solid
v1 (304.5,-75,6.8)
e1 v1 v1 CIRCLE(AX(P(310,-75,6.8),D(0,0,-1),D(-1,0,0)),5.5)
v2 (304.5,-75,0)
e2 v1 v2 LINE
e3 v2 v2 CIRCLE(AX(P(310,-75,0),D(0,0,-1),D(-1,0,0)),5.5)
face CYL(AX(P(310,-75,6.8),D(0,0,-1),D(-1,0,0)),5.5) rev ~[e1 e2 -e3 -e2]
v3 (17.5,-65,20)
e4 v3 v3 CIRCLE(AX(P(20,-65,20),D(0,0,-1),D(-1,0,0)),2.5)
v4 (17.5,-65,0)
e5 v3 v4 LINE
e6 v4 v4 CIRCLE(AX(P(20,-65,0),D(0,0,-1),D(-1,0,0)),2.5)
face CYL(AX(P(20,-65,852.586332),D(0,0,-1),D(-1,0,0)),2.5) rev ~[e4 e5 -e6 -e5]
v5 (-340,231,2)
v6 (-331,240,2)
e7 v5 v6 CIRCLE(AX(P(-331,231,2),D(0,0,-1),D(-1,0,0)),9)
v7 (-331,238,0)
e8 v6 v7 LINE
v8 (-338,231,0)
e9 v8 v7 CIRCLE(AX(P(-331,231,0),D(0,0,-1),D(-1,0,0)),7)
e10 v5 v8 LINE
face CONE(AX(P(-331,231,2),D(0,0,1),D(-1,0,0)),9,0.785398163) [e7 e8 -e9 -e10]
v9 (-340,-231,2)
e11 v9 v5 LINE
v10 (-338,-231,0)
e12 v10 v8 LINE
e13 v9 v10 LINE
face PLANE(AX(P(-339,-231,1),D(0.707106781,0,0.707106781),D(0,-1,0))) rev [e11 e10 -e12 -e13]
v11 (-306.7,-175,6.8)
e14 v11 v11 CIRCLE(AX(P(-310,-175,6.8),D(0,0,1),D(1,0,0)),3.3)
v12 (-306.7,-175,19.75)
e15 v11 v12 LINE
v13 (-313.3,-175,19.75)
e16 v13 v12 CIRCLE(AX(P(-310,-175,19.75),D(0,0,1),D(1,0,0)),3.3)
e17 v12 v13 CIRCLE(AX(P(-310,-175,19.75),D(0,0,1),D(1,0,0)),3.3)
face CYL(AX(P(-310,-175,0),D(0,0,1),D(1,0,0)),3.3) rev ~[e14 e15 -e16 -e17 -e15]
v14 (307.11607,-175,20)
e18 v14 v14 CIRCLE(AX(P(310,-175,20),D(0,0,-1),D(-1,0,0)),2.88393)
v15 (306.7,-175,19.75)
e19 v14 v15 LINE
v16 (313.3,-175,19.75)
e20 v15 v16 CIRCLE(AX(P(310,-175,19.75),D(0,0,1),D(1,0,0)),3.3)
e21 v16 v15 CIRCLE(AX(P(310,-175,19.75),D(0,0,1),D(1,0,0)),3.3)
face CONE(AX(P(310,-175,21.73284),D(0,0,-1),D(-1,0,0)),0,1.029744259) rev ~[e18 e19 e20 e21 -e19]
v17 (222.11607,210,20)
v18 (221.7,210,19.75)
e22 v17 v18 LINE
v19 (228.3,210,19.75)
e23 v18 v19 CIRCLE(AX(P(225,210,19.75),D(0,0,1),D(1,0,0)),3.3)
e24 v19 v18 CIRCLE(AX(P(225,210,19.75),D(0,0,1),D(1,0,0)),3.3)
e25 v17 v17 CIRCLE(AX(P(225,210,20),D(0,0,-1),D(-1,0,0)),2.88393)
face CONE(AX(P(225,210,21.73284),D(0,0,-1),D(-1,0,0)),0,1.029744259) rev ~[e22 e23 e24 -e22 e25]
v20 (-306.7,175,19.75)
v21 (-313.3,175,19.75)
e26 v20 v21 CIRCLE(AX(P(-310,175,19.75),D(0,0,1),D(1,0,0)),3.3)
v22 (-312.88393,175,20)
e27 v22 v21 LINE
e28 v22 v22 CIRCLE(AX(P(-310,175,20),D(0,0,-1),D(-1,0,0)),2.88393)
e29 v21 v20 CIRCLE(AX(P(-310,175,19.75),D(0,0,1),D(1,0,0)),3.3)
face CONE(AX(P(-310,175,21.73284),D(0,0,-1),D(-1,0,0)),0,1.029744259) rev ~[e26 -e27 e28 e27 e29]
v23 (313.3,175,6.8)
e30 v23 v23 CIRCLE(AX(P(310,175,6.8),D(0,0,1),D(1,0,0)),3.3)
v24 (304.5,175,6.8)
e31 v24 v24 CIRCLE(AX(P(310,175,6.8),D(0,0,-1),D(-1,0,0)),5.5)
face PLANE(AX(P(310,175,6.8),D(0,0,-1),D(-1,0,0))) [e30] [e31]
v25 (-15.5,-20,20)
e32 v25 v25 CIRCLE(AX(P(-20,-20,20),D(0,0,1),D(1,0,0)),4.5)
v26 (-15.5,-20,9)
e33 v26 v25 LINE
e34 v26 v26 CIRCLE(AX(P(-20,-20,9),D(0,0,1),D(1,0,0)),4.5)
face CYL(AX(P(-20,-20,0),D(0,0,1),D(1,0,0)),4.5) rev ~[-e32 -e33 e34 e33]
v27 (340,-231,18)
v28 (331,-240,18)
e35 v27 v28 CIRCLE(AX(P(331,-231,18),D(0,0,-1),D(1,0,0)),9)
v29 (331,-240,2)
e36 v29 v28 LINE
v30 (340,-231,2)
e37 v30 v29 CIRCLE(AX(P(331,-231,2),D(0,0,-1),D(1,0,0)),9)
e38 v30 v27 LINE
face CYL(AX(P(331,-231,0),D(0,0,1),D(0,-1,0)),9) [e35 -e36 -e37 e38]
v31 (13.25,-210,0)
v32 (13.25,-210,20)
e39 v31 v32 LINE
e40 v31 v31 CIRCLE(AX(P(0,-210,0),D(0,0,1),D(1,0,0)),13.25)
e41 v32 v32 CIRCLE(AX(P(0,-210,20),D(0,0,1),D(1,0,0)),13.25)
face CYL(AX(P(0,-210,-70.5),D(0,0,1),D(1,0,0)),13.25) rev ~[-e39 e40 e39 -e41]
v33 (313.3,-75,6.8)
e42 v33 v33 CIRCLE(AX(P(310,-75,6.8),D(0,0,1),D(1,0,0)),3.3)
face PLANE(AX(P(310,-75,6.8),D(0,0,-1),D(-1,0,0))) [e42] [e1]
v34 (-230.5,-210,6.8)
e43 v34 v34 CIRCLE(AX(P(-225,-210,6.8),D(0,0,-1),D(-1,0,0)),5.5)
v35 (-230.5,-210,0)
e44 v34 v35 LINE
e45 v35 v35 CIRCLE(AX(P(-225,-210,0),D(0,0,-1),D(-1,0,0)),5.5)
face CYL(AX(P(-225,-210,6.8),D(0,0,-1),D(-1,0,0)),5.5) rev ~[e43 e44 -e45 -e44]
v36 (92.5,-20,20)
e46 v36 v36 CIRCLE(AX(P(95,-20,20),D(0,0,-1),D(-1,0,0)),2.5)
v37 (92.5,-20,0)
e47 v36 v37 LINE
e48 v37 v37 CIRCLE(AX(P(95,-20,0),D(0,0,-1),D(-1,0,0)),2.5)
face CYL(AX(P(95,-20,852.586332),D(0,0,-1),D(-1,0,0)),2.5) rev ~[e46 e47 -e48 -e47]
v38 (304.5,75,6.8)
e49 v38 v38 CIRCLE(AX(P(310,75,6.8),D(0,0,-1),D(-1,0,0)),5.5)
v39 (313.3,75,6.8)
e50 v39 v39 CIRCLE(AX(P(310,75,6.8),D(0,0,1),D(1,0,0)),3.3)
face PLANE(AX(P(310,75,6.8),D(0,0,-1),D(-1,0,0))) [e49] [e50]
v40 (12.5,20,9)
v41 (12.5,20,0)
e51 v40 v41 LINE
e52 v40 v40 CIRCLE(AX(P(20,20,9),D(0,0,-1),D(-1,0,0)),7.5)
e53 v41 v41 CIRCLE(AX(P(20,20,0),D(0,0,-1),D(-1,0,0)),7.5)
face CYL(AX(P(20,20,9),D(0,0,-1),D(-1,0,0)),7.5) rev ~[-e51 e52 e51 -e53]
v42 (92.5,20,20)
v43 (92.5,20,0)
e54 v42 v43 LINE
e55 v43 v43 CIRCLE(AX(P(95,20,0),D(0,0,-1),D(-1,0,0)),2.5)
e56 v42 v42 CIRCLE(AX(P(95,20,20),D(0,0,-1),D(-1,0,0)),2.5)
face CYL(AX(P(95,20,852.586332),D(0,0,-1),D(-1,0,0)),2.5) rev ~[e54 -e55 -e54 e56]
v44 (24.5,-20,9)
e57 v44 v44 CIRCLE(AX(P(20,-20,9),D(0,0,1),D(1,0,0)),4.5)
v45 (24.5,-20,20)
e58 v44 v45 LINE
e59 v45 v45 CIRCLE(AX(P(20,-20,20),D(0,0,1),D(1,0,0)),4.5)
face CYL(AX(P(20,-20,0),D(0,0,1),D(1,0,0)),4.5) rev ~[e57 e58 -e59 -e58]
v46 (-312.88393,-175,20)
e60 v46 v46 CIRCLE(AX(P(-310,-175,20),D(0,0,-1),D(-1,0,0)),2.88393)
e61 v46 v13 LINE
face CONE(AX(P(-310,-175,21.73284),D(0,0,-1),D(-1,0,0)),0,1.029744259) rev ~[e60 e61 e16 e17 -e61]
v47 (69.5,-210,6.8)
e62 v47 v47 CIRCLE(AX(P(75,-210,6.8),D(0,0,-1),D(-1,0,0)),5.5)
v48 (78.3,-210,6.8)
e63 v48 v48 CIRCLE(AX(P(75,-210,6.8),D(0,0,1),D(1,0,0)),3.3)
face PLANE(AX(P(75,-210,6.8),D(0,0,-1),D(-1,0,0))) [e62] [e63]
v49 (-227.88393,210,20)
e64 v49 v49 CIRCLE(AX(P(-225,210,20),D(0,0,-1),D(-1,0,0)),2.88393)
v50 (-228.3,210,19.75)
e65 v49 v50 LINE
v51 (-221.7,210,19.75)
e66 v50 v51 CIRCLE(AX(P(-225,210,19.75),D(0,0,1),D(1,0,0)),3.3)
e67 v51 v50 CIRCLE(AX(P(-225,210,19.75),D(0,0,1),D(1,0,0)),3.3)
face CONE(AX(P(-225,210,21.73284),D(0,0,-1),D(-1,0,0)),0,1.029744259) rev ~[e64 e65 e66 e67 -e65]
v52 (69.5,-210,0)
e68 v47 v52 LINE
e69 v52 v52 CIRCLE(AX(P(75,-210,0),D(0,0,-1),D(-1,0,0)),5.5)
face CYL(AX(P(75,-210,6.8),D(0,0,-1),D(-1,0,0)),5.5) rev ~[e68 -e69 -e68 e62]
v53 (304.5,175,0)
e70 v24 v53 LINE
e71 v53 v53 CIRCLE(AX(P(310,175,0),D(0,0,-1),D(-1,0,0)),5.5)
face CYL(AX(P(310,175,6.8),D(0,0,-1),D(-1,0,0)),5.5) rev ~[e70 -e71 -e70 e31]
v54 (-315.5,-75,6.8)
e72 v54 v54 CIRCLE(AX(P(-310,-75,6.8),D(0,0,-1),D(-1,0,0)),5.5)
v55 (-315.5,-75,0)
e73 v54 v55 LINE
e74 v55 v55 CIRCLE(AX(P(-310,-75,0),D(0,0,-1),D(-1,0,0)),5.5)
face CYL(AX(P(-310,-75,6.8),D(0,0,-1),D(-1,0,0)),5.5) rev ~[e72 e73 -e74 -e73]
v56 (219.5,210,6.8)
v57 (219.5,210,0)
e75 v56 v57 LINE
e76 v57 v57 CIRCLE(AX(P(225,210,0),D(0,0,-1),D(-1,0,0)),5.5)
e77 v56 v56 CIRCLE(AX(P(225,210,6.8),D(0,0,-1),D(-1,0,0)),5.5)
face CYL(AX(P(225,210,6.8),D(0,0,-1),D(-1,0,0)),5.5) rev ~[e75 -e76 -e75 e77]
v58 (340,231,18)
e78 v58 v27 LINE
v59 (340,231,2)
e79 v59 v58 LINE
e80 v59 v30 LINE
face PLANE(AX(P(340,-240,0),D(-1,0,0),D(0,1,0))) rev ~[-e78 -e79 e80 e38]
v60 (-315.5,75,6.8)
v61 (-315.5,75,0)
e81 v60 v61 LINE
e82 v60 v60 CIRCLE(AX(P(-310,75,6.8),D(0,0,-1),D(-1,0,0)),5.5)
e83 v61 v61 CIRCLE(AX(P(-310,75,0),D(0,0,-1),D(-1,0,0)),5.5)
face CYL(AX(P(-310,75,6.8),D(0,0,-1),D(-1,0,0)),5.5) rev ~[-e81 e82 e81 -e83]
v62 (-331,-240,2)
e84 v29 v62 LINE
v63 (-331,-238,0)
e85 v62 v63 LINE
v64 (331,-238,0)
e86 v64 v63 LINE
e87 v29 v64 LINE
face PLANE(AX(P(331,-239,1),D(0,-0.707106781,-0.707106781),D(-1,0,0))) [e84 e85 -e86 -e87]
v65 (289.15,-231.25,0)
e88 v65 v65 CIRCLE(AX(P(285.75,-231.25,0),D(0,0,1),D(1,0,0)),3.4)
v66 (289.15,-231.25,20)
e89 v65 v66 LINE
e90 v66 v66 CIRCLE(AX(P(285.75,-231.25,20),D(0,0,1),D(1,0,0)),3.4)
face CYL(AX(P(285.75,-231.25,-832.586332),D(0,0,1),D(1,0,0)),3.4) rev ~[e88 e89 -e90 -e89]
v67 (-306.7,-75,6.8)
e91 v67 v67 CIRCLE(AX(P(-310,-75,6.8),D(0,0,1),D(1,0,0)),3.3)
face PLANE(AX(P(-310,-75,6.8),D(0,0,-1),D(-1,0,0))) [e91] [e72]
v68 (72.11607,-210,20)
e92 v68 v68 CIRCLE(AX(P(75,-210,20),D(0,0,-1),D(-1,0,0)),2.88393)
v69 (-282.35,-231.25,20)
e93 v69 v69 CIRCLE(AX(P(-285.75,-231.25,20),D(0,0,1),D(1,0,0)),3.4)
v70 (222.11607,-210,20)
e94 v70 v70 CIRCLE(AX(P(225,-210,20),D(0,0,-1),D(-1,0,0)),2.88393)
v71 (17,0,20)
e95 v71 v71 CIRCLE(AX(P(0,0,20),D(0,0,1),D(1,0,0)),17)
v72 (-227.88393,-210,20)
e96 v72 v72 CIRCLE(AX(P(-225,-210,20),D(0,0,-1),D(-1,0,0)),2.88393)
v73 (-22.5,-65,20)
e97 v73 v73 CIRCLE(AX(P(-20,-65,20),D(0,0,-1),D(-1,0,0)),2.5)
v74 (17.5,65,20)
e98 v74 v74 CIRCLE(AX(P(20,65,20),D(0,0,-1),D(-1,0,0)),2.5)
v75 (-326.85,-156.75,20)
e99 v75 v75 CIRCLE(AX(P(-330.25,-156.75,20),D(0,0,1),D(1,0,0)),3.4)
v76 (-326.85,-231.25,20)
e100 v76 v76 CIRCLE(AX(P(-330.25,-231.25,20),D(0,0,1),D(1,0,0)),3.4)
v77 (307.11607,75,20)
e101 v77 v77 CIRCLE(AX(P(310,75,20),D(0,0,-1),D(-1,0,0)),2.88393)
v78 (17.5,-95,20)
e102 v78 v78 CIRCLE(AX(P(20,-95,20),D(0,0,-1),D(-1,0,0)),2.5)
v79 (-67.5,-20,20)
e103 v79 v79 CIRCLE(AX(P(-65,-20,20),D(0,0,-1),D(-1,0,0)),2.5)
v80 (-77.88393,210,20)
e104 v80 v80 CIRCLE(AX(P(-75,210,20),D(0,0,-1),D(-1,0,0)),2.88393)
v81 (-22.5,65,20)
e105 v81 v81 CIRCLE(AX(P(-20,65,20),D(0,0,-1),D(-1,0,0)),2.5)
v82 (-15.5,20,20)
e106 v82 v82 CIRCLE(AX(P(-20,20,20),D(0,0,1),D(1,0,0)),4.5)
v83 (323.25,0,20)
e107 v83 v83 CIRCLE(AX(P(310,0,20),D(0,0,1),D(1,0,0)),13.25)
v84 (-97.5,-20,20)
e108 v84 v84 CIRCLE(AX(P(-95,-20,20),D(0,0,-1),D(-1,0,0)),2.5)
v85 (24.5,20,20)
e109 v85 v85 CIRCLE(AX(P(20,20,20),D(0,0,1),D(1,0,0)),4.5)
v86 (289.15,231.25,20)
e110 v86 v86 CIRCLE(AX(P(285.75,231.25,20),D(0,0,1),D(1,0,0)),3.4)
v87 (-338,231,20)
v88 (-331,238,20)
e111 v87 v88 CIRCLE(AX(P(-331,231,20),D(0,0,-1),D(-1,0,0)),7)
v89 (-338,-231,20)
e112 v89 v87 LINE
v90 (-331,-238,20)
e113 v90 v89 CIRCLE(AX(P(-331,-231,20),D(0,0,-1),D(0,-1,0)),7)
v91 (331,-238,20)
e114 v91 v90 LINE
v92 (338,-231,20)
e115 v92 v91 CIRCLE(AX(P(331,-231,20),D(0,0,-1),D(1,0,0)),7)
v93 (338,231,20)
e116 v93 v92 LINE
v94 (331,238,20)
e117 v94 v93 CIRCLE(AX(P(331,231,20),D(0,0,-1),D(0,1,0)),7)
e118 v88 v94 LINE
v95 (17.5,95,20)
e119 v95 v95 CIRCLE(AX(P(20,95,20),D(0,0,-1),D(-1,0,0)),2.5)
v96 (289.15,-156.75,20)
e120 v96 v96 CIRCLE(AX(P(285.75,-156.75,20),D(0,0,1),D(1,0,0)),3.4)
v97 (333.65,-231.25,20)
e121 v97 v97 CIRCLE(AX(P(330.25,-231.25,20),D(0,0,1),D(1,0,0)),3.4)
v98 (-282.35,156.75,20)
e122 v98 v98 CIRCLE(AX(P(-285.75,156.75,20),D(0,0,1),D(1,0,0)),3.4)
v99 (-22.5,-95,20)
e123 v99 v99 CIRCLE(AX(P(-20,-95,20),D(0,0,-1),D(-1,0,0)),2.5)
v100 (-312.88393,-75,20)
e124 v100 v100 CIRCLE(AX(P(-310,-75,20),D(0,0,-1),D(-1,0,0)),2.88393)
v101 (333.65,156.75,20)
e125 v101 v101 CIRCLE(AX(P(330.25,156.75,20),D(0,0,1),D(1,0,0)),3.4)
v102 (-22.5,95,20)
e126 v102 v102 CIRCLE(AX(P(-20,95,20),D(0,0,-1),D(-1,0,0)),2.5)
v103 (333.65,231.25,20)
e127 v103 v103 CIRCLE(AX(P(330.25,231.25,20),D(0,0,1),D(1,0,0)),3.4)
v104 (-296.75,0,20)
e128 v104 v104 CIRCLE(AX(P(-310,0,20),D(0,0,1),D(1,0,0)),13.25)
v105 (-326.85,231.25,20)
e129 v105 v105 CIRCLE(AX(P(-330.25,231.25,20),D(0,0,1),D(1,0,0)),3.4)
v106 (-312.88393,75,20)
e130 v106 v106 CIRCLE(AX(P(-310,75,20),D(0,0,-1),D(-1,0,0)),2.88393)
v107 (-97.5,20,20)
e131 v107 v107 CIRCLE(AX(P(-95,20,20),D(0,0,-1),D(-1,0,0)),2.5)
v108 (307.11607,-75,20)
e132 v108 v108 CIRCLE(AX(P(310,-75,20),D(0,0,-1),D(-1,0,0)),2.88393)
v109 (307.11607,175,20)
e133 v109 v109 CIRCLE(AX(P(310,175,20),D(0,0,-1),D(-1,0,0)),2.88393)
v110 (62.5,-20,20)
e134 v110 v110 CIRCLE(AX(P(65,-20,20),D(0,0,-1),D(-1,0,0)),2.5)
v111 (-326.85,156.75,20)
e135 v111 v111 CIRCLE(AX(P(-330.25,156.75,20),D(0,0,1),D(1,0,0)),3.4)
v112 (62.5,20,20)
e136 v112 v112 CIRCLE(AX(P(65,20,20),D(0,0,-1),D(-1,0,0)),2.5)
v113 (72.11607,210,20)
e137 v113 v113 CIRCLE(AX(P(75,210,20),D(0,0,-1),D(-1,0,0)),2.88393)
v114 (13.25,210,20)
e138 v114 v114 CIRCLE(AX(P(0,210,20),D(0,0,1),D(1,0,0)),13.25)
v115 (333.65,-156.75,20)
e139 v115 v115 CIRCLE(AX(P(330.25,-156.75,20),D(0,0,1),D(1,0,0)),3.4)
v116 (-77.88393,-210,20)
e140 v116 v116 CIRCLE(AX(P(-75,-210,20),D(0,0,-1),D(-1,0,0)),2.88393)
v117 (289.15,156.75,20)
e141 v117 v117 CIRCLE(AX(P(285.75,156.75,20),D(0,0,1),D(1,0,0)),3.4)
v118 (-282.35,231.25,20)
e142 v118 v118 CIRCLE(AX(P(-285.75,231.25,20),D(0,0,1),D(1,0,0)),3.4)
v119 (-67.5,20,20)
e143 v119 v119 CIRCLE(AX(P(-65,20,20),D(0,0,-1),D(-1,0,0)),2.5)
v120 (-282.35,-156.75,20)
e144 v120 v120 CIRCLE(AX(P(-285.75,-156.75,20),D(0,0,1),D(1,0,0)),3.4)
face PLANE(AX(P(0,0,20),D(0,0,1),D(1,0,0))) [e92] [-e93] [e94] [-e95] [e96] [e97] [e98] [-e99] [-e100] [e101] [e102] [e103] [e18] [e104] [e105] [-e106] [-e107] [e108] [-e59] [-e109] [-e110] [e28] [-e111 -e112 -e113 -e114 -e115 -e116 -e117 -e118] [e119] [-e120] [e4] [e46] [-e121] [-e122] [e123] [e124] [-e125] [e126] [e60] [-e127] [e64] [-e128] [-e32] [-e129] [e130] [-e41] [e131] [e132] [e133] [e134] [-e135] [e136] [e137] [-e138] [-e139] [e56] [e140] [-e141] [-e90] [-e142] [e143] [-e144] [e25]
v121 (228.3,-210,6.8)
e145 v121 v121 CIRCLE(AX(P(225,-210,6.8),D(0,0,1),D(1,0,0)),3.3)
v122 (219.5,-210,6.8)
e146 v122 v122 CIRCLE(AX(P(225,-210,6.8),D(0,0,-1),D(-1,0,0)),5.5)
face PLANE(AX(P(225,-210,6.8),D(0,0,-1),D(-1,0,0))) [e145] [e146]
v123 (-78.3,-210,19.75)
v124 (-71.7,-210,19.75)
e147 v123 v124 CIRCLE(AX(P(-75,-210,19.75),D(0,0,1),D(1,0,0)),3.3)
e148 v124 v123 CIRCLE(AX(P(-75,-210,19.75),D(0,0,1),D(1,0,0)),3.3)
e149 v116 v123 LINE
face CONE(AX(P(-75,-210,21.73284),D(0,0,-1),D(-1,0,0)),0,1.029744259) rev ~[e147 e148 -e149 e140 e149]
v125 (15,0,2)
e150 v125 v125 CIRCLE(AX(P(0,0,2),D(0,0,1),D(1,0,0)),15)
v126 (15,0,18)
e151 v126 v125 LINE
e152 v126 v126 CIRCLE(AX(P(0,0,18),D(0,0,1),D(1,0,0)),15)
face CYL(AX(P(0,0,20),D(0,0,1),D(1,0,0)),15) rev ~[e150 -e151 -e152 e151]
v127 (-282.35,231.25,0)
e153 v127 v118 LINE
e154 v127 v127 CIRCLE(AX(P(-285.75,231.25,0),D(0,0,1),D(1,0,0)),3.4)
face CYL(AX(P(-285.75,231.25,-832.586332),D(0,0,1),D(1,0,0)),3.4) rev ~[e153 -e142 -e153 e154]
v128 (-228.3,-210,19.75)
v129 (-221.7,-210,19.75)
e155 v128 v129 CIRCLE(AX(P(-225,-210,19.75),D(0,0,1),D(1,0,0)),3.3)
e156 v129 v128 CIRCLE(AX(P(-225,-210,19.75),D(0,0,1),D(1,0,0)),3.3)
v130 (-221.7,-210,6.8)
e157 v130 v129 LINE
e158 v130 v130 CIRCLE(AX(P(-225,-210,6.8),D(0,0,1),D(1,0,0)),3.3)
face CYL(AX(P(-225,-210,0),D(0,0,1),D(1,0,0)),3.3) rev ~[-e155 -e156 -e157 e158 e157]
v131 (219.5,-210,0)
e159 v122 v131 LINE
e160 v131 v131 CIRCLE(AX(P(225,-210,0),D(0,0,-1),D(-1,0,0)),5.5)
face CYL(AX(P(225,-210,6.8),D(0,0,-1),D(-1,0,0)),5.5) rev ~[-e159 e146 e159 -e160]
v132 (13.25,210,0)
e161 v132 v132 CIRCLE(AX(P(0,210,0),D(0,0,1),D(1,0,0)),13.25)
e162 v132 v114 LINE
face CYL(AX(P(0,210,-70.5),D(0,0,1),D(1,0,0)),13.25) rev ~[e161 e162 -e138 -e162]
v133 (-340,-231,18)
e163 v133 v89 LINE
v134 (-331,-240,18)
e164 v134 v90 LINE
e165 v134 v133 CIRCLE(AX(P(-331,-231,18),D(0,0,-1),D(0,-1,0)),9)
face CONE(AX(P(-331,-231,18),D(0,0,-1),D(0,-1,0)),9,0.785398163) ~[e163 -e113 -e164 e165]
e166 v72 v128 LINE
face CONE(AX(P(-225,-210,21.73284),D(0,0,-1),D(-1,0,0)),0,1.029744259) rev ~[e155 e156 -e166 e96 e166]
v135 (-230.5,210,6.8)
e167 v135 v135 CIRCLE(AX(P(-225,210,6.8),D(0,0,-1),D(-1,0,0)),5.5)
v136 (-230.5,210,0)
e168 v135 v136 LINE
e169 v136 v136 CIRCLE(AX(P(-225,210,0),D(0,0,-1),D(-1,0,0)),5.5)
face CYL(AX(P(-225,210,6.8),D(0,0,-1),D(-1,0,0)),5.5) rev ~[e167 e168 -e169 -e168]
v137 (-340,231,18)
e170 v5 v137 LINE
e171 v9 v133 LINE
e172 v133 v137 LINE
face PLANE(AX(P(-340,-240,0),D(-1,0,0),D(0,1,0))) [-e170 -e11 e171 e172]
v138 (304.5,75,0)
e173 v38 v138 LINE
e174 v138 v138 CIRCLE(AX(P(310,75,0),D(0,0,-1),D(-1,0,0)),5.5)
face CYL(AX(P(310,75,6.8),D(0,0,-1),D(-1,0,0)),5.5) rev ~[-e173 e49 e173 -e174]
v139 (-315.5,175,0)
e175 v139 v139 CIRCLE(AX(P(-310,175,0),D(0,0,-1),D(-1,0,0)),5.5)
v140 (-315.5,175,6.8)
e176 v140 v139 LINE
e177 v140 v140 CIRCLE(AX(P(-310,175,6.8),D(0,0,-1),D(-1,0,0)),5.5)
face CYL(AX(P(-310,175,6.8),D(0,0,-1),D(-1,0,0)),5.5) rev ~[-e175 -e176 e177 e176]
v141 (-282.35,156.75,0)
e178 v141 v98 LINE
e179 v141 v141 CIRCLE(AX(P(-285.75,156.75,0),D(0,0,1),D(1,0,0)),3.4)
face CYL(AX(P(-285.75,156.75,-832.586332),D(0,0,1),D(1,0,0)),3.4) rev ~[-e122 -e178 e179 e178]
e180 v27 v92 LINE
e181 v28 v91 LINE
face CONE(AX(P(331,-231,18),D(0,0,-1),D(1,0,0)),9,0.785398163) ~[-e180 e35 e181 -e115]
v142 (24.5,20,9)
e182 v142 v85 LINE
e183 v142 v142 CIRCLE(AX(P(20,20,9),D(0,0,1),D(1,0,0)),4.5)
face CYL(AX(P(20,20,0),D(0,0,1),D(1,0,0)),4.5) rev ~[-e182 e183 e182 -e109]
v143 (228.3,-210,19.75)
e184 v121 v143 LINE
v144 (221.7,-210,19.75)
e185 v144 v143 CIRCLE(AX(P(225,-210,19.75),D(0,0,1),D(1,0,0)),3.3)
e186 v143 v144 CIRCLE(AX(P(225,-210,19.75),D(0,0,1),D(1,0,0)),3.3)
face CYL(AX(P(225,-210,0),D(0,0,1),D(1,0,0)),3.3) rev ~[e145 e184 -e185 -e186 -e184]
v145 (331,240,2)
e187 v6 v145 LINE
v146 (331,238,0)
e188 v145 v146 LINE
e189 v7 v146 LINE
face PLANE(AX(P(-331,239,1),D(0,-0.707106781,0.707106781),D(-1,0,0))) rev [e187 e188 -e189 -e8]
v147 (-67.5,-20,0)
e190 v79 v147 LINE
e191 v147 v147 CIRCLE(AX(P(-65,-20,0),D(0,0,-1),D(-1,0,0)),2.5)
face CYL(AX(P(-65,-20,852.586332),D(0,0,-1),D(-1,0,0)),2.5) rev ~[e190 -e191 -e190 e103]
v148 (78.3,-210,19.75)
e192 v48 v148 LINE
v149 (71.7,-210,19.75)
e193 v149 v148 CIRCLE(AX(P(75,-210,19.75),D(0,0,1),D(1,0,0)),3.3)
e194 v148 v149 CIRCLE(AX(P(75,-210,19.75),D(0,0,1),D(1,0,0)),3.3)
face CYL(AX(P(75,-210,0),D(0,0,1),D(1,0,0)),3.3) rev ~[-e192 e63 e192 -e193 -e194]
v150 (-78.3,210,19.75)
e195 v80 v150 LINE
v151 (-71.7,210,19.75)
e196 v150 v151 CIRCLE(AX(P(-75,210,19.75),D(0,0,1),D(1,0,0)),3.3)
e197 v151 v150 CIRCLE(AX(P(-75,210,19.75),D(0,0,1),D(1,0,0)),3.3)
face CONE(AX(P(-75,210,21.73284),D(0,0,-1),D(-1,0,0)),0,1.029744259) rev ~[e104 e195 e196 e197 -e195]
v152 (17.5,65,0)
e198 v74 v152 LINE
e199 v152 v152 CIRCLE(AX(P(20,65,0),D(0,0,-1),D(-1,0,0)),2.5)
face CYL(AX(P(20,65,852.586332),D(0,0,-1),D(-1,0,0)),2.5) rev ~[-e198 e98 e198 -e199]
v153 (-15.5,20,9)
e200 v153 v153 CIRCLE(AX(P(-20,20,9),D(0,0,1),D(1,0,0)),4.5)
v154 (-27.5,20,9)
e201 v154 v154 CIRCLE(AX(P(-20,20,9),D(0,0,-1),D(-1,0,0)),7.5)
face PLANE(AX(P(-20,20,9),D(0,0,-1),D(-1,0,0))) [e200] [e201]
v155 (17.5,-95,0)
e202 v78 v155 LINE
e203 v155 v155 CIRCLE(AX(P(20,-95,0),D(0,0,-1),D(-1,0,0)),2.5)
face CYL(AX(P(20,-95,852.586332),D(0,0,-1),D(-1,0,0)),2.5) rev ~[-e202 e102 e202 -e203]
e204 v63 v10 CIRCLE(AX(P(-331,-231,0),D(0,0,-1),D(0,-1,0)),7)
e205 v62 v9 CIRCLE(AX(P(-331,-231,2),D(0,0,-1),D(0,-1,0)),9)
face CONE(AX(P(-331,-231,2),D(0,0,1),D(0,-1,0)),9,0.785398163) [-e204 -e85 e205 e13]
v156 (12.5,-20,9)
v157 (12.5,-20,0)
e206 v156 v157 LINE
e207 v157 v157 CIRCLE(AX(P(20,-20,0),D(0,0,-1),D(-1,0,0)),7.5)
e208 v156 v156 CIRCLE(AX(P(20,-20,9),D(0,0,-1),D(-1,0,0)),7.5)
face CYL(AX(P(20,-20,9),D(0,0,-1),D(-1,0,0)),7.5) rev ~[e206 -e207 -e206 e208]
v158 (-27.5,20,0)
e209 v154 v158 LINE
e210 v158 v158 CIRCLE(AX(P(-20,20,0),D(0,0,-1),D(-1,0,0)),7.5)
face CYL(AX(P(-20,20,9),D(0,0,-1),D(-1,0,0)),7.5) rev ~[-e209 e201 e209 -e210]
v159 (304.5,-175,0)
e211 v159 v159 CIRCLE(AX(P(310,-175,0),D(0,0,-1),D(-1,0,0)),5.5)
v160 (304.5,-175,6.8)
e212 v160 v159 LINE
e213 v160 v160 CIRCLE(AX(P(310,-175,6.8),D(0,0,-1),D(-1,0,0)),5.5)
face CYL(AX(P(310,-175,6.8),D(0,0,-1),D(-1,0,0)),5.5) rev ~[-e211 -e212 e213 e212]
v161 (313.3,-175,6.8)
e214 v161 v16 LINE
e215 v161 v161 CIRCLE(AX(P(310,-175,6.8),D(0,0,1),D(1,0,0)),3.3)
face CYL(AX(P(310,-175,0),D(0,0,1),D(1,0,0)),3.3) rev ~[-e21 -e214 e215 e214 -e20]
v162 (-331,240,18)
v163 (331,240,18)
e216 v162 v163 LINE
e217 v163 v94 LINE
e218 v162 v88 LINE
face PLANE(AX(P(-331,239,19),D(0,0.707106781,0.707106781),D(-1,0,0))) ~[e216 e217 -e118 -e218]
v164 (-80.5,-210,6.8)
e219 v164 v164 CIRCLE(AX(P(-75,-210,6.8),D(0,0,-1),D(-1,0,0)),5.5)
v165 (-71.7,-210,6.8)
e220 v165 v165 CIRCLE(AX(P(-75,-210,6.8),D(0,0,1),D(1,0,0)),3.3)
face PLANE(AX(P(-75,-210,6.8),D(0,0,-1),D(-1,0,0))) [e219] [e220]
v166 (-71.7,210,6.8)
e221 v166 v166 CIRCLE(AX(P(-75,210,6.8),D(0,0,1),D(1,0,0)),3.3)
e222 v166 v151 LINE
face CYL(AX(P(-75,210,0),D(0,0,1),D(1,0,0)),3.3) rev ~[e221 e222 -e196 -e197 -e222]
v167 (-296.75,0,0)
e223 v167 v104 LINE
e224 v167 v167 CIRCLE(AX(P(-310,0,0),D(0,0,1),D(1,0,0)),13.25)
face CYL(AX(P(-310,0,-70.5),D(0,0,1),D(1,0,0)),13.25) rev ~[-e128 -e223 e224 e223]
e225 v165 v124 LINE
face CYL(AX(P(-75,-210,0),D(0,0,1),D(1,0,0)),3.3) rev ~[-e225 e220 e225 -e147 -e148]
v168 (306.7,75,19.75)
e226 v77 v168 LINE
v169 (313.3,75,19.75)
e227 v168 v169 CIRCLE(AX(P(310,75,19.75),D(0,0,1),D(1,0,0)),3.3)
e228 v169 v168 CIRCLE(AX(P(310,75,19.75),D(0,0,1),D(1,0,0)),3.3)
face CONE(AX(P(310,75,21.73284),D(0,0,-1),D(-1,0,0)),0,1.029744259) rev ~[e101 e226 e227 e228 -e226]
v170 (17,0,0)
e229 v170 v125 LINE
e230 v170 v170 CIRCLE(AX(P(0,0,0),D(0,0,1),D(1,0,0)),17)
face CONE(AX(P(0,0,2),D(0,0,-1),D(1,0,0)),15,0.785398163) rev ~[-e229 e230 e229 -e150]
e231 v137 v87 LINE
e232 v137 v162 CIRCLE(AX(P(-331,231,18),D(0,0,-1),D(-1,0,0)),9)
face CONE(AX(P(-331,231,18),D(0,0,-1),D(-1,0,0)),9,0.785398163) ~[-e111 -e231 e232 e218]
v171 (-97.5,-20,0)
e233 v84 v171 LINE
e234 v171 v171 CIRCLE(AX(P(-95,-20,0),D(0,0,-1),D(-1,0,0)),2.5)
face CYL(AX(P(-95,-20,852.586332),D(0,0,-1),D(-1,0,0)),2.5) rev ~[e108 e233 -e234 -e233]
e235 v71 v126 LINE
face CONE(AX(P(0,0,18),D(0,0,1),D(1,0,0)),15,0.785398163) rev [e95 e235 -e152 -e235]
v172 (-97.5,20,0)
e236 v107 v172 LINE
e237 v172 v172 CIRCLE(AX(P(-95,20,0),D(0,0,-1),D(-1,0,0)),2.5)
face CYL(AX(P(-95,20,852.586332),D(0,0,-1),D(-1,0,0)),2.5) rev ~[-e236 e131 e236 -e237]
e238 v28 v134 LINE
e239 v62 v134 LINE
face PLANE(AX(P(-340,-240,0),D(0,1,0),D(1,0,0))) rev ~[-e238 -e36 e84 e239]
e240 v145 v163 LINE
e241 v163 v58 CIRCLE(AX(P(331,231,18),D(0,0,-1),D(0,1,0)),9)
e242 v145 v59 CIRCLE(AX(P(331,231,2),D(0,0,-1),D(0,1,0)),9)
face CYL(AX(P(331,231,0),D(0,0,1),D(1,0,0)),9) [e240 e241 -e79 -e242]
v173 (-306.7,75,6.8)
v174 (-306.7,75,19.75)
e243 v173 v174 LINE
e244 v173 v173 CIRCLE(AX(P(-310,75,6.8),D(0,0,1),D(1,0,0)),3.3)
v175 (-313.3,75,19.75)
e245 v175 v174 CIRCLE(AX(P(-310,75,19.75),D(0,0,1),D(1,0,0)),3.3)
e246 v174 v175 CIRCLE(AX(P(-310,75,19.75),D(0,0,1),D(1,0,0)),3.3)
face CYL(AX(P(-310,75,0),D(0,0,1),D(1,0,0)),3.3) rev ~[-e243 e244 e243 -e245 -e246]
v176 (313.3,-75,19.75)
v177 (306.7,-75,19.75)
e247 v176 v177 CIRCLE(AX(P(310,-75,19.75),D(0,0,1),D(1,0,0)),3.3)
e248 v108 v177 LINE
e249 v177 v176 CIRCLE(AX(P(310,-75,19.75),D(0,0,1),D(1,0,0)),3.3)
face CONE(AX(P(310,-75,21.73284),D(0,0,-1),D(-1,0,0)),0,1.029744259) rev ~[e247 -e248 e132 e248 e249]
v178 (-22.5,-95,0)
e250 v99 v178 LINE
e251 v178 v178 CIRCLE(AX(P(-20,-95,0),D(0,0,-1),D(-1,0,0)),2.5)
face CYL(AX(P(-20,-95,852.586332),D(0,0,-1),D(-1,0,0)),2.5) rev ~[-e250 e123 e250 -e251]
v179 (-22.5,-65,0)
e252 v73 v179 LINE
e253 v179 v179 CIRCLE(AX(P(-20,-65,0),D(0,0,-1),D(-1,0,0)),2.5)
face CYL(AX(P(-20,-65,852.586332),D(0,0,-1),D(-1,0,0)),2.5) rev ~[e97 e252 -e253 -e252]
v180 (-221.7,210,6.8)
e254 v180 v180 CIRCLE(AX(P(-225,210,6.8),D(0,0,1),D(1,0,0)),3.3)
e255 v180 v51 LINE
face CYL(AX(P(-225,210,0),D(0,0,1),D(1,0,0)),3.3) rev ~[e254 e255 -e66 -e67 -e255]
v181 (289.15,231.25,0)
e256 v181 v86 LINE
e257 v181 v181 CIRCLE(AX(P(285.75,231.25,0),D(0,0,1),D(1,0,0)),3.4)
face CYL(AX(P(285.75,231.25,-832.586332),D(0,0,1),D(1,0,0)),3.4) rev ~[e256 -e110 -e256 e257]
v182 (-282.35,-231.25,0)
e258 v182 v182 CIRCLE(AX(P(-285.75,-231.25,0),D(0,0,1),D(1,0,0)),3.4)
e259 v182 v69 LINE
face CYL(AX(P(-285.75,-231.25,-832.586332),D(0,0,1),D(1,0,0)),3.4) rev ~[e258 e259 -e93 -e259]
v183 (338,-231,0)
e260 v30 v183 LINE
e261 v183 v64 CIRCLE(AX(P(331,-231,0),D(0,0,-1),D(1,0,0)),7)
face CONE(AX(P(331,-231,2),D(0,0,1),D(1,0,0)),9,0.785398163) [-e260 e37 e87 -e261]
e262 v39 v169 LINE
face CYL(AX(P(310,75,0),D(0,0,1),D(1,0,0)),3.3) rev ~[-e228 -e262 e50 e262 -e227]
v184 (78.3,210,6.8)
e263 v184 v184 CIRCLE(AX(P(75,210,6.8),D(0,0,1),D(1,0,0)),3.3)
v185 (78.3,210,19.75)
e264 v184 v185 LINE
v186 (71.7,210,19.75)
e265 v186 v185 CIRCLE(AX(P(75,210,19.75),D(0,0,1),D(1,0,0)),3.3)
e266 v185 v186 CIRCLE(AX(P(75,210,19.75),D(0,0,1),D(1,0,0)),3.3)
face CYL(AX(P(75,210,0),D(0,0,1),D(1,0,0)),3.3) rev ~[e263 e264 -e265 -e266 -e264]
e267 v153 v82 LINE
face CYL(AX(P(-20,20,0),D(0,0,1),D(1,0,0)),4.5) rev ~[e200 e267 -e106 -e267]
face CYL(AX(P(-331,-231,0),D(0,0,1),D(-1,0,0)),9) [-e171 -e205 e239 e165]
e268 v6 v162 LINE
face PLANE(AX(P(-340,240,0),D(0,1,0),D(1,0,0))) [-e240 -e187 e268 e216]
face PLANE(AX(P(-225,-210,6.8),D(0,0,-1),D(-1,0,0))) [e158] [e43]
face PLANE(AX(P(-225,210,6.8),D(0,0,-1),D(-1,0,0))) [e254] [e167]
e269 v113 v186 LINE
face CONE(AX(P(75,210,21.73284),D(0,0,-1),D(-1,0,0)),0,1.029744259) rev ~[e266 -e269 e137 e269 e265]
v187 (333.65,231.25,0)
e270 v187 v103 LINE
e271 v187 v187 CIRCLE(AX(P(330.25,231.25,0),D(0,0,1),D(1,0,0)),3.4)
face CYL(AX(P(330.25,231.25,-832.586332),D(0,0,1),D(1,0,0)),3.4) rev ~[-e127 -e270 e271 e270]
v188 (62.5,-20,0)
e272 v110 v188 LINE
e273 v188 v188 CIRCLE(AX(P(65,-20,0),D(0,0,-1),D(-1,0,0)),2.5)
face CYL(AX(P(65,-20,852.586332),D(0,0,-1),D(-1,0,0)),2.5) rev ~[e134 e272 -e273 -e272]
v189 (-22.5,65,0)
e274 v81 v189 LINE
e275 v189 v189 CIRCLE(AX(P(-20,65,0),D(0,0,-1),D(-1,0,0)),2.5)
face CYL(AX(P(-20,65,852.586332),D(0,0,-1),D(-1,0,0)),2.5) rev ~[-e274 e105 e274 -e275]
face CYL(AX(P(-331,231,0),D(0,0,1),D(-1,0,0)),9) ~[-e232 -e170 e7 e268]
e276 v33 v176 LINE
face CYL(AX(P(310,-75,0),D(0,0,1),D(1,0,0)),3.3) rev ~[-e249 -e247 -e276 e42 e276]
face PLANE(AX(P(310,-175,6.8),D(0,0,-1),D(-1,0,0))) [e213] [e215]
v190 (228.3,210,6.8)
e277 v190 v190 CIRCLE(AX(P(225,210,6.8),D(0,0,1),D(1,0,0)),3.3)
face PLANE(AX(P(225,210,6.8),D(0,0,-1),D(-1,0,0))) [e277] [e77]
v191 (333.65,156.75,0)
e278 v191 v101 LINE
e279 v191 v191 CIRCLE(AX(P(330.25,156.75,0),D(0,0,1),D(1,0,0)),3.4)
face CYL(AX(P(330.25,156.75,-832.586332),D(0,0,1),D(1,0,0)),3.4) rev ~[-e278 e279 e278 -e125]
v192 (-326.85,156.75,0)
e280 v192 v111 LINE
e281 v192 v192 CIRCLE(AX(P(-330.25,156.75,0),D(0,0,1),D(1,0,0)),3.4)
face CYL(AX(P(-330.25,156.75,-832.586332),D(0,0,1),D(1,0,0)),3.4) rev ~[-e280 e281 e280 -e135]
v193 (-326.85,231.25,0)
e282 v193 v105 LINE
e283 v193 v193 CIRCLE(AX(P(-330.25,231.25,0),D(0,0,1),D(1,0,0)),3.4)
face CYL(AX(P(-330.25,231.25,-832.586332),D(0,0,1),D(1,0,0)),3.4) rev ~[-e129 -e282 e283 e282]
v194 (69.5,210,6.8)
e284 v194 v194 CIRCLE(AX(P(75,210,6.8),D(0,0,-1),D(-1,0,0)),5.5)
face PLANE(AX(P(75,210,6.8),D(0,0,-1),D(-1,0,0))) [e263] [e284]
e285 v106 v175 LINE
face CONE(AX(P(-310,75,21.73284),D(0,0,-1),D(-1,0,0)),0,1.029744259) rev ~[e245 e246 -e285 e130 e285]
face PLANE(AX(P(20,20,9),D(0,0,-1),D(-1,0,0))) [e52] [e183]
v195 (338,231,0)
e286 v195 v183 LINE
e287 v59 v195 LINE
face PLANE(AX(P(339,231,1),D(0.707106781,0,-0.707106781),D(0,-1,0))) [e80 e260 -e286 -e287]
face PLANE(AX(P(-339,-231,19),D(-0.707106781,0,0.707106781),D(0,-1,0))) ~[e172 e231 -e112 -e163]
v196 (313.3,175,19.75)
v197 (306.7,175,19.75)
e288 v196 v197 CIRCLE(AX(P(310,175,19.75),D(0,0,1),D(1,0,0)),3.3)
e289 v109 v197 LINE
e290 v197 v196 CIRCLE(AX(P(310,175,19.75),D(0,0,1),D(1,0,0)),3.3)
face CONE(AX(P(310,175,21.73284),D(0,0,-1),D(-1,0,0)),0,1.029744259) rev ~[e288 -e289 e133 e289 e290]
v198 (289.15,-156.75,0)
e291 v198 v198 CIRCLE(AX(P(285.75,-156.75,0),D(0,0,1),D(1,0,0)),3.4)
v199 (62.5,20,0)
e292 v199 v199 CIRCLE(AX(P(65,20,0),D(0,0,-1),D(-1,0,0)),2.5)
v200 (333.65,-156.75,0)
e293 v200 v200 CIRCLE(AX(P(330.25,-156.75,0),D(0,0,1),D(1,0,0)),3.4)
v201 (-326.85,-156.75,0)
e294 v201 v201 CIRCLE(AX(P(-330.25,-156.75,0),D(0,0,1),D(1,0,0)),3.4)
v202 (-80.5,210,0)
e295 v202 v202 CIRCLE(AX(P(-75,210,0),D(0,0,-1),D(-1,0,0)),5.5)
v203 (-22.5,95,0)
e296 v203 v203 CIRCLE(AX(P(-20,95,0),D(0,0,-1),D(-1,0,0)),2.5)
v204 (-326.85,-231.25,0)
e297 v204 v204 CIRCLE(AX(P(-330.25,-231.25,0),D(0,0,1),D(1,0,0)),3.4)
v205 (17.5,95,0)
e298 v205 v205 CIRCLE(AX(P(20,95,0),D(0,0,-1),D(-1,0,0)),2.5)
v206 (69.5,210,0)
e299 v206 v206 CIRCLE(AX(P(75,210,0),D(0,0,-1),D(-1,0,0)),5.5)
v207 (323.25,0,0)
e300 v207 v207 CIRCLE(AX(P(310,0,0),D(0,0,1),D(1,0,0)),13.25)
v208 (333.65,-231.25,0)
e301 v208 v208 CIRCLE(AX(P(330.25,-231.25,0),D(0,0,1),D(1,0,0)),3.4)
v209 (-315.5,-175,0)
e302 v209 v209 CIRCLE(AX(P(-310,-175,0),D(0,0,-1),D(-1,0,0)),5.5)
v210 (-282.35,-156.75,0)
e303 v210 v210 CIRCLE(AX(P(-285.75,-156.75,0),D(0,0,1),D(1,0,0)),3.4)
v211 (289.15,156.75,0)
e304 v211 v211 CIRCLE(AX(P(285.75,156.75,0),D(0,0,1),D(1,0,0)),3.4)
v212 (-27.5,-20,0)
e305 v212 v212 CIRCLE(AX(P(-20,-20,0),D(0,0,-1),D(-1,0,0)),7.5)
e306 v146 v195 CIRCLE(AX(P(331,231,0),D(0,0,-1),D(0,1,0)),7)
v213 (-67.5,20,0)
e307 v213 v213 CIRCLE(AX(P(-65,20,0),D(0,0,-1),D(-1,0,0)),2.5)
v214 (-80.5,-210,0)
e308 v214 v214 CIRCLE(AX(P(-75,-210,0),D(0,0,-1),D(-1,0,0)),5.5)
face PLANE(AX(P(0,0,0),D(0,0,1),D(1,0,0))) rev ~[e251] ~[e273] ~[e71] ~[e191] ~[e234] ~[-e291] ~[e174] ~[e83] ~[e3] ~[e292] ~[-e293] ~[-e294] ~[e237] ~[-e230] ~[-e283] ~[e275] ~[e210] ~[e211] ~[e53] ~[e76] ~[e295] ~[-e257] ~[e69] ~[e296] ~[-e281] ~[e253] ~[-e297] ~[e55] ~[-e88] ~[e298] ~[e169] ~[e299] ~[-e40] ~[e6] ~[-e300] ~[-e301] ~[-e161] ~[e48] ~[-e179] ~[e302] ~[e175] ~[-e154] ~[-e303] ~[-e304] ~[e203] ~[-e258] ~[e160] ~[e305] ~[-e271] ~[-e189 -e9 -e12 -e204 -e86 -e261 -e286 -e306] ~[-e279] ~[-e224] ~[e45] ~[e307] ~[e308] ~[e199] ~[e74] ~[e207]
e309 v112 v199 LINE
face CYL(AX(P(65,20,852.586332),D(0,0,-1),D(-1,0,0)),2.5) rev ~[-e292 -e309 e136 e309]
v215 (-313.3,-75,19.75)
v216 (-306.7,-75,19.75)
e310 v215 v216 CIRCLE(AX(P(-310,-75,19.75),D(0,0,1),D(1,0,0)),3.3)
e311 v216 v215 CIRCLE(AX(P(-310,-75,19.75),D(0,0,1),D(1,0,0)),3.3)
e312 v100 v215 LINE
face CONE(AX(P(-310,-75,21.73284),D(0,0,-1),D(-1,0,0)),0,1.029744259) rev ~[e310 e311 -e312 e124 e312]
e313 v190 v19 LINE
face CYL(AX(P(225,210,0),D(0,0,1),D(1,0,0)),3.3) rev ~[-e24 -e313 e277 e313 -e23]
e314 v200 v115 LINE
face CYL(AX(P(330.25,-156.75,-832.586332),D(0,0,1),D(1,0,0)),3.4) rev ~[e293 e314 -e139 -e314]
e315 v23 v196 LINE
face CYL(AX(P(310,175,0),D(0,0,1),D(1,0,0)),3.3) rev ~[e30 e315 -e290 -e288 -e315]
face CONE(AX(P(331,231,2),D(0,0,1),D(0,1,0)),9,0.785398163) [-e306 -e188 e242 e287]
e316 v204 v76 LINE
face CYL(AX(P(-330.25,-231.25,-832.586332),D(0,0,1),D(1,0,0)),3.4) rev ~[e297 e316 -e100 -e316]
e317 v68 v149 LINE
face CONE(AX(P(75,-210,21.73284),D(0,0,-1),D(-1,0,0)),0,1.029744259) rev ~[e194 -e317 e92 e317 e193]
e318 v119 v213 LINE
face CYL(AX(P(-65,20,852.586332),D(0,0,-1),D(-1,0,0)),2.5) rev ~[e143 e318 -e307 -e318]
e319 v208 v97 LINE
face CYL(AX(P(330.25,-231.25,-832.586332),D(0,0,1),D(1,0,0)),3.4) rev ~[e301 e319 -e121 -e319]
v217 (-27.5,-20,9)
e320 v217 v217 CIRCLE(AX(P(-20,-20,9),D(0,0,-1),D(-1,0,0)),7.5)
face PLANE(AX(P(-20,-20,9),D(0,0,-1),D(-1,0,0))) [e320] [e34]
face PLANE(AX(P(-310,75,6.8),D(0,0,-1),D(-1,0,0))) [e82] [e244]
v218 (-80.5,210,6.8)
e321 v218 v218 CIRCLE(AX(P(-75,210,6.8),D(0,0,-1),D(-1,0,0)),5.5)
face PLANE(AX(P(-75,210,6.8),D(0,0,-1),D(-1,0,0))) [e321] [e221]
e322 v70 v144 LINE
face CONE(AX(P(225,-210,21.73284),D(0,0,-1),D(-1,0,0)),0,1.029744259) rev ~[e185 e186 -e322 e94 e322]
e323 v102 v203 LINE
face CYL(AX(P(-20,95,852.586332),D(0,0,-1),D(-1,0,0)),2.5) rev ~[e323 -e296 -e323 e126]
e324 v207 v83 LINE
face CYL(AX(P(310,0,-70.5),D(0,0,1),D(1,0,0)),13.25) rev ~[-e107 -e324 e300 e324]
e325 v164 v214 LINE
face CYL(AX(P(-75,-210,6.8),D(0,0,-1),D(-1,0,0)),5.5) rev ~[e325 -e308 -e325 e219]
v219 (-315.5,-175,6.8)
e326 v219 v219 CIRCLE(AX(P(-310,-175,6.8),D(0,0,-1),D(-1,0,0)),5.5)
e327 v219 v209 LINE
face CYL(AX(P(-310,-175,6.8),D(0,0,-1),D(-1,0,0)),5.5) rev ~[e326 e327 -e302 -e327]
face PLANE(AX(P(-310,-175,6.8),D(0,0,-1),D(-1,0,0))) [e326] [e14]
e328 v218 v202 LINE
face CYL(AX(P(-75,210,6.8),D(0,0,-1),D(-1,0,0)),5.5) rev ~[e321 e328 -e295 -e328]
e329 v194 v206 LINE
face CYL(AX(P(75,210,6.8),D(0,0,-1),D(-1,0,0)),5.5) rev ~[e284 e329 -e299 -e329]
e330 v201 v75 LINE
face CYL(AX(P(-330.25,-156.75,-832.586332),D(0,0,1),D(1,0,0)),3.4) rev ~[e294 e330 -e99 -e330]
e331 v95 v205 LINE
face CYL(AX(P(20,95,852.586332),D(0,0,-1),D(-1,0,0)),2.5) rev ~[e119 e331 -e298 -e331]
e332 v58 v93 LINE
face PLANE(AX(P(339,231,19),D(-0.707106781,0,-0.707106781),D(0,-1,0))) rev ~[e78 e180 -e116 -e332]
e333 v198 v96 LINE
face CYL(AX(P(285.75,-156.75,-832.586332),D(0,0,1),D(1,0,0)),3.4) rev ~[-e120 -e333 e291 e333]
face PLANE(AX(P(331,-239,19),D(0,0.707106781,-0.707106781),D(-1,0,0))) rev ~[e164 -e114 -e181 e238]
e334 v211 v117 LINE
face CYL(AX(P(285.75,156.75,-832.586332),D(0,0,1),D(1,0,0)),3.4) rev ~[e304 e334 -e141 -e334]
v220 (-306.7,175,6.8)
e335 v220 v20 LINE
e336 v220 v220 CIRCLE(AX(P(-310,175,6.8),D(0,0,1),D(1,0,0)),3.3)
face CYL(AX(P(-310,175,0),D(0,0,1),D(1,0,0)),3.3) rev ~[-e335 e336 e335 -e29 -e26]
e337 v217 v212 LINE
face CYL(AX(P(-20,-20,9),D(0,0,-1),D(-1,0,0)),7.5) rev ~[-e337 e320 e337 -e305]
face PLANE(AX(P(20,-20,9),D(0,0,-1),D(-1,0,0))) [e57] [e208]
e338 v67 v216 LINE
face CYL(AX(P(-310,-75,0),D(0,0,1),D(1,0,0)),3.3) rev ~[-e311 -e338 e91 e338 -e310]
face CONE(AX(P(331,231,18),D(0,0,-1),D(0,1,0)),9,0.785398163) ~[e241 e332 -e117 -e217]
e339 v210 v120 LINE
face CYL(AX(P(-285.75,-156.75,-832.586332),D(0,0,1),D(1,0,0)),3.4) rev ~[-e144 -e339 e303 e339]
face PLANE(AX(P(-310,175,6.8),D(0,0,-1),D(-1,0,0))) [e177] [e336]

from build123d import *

# Parameters (mm, degrees)
SKETCH_1_W                = 680
SKETCH_1_H                = 480
EXTRUDE_1_DEPTH           = 20
FILLET_1_R                = 9
CHAMFER_3_SIZE            = 2
HOLE_WIZARD_M30_1_D       = 26.5
HOLE_WIZARD_M30_1_DEPTH   = 70.5
HOLE_WIZARD_M30_1_TIP     = 7.961403202
HOLE_WIZARD_1_D           = 9
HOLE_WIZARD_1_DEPTH       = 70.5
HOLE_WIZARD_1_CBORE_D     = 15
HOLE_WIZARD_1_CBORE_DEPTH = 9
HOLE_WIZARD_1_TIP         = 2.703872786
SKETCH_8_R                = 15
CUT_EXTRUDE_2_DEPTH       = 417.65333312
CHAMFER_5_SIZE            = 2
HOLE_WIZARD_M6_1_D        = 5
HOLE_WIZARD_M8_1_D        = 6.8
HOLE_WIZARD_2_D           = 6.6
HOLE_WIZARD_2_DEPTH       = 19.75
HOLE_WIZARD_2_CBORE_D     = 11
HOLE_WIZARD_2_CBORE_DEPTH = 6.8
HOLE_WIZARD_2_TIP         = 1.982840043


with BuildPart() as part:
    # 草图1 → 凸台-拉伸1 (new body)
    with BuildSketch(Plane.XY):
        Rectangle(SKETCH_1_W, SKETCH_1_H)
    extrude(amount=EXTRUDE_1_DEPTH)

    # 圆角1
    fillet_1_edges = [part.edges().sort_by_distance(p)[0] for p in [
        (340, -240, 10),
        (-340, -240, 10),
        (-340, 240, 10),
        (340, 240, 10),
    ]]
    fillet(fillet_1_edges, radius=FILLET_1_R)

    # 倒角3
    chamfer_3_edges = [part.edges().sort_by_distance(p)[0] for p in [
        (-340, 0, 0),
        (-340, 0, 20),
        (340, 0, 0),
        (0, -240, 0),
        (0, 240, 0),
        (-337.363961031, -237.363961031, 0),
        (337.363961031, -237.363961031, 0),
        (337.363961031, 237.363961031, 0),
        (-337.363961031, 237.363961031, 0),
        (0, 240, 20),
        (340, 0, 20),
        (0, -240, 20),
        (-337.363961031, -237.363961031, 20),
        (337.363961031, -237.363961031, 20),
        (337.363961031, 237.363961031, 20),
        (-337.363961031, 237.363961031, 20),
    ]]
    chamfer(chamfer_3_edges, length=CHAMFER_3_SIZE)

    # M30 螺纹孔1
    with Locations(Plane(origin=(0, 0, 0), x_dir=(-1, 0, 0), z_dir=(0, 0, -1))):
        with Locations((0, 210), (-310, 0), (0, -210), (310, 0)):
            Hole(HOLE_WIZARD_M30_1_D / 2, depth=HOLE_WIZARD_M30_1_DEPTH)
            with Locations((0, 0, -(HOLE_WIZARD_M30_1_DEPTH + HOLE_WIZARD_M30_1_TIP / 2))):  # 118° drill point
                Cone(0, HOLE_WIZARD_M30_1_D / 2, HOLE_WIZARD_M30_1_TIP, mode=Mode.SUBTRACT)

    # 打孔尺寸(%根据)内六角圆柱头螺钉的类型1
    with Locations(Plane(origin=(0, 0, 0), x_dir=(-1, 0, 0), z_dir=(0, 0, -1))):
        with Locations((20, -20), (-20, -20), (-20, 20), (20, 20)):
            CounterBoreHole(HOLE_WIZARD_1_D / 2, HOLE_WIZARD_1_CBORE_D / 2, HOLE_WIZARD_1_CBORE_DEPTH, depth=HOLE_WIZARD_1_DEPTH)
            with Locations((0, 0, -(HOLE_WIZARD_1_DEPTH + HOLE_WIZARD_1_TIP / 2))):  # 118° drill point
                Cone(0, HOLE_WIZARD_1_D / 2, HOLE_WIZARD_1_TIP, mode=Mode.SUBTRACT)

    # 草图8 → 切除-拉伸2 (cut, through all)
    with BuildSketch(Plane.XY.offset(20)):
        Circle(SKETCH_8_R)
    extrude(amount=-CUT_EXTRUDE_2_DEPTH, mode=Mode.SUBTRACT)

    # 倒角5
    chamfer_5_edges = [part.edges().sort_by_distance(p)[0] for p in [
        (-15, 0, 0),
        (-15, 0, 20),
    ]]
    chamfer(chamfer_5_edges, length=CHAMFER_5_SIZE)

    # M6 螺纹孔1 (through all)
    with Locations(Plane.XY.offset(20)):
        with Locations((65, -20), (20, 95), (20, 65), (-20, 65), (-20, 95), (20, -65), (20, -95), (-20, -95), (-20, -65), (-95, 20), (-65, 20), (-65, -20), (-95, -20), (65, 20), (95, 20), (95, -20)):
            Hole(HOLE_WIZARD_M6_1_D / 2)

    # M8 螺纹孔1 (through all)
    with Locations(Plane(origin=(0, 0, 0), x_dir=(-1, 0, 0), z_dir=(0, 0, -1))):
        with Locations((330.25, -231.25), (285.75, -231.25), (285.75, -156.75), (330.25, -156.75), (-285.75, -231.25), (-330.25, -231.25), (-330.25, -156.75), (-285.75, -156.75), (330.25, 156.75), (285.75, 156.75), (285.75, 231.25), (330.25, 231.25), (-285.75, 156.75), (-330.25, 156.75), (-330.25, 231.25), (-285.75, 231.25)):
            Hole(HOLE_WIZARD_M8_1_D / 2)

    # 打孔尺寸(%根据)内六角圆柱头螺钉的类型2
    with Locations(Plane(origin=(0, 0, 0), x_dir=(-1, 0, 0), z_dir=(0, 0, -1))):
        with Locations((225, -210), (75, -210), (-75, -210), (-225, -210), (225, 210), (75, 210), (-75, 210), (-225, 210), (310, -175), (310, 175), (-310, -175), (-310, 175), (-310, -75), (-310, 75), (310, -75), (310, 75)):
            CounterBoreHole(HOLE_WIZARD_2_D / 2, HOLE_WIZARD_2_CBORE_D / 2, HOLE_WIZARD_2_CBORE_DEPTH, depth=HOLE_WIZARD_2_DEPTH)
            with Locations((0, 0, -(HOLE_WIZARD_2_DEPTH + HOLE_WIZARD_2_TIP / 2))):  # 118° drill point
                Cone(0, HOLE_WIZARD_2_D / 2, HOLE_WIZARD_2_TIP, mode=Mode.SUBTRACT)


solid = part.part
